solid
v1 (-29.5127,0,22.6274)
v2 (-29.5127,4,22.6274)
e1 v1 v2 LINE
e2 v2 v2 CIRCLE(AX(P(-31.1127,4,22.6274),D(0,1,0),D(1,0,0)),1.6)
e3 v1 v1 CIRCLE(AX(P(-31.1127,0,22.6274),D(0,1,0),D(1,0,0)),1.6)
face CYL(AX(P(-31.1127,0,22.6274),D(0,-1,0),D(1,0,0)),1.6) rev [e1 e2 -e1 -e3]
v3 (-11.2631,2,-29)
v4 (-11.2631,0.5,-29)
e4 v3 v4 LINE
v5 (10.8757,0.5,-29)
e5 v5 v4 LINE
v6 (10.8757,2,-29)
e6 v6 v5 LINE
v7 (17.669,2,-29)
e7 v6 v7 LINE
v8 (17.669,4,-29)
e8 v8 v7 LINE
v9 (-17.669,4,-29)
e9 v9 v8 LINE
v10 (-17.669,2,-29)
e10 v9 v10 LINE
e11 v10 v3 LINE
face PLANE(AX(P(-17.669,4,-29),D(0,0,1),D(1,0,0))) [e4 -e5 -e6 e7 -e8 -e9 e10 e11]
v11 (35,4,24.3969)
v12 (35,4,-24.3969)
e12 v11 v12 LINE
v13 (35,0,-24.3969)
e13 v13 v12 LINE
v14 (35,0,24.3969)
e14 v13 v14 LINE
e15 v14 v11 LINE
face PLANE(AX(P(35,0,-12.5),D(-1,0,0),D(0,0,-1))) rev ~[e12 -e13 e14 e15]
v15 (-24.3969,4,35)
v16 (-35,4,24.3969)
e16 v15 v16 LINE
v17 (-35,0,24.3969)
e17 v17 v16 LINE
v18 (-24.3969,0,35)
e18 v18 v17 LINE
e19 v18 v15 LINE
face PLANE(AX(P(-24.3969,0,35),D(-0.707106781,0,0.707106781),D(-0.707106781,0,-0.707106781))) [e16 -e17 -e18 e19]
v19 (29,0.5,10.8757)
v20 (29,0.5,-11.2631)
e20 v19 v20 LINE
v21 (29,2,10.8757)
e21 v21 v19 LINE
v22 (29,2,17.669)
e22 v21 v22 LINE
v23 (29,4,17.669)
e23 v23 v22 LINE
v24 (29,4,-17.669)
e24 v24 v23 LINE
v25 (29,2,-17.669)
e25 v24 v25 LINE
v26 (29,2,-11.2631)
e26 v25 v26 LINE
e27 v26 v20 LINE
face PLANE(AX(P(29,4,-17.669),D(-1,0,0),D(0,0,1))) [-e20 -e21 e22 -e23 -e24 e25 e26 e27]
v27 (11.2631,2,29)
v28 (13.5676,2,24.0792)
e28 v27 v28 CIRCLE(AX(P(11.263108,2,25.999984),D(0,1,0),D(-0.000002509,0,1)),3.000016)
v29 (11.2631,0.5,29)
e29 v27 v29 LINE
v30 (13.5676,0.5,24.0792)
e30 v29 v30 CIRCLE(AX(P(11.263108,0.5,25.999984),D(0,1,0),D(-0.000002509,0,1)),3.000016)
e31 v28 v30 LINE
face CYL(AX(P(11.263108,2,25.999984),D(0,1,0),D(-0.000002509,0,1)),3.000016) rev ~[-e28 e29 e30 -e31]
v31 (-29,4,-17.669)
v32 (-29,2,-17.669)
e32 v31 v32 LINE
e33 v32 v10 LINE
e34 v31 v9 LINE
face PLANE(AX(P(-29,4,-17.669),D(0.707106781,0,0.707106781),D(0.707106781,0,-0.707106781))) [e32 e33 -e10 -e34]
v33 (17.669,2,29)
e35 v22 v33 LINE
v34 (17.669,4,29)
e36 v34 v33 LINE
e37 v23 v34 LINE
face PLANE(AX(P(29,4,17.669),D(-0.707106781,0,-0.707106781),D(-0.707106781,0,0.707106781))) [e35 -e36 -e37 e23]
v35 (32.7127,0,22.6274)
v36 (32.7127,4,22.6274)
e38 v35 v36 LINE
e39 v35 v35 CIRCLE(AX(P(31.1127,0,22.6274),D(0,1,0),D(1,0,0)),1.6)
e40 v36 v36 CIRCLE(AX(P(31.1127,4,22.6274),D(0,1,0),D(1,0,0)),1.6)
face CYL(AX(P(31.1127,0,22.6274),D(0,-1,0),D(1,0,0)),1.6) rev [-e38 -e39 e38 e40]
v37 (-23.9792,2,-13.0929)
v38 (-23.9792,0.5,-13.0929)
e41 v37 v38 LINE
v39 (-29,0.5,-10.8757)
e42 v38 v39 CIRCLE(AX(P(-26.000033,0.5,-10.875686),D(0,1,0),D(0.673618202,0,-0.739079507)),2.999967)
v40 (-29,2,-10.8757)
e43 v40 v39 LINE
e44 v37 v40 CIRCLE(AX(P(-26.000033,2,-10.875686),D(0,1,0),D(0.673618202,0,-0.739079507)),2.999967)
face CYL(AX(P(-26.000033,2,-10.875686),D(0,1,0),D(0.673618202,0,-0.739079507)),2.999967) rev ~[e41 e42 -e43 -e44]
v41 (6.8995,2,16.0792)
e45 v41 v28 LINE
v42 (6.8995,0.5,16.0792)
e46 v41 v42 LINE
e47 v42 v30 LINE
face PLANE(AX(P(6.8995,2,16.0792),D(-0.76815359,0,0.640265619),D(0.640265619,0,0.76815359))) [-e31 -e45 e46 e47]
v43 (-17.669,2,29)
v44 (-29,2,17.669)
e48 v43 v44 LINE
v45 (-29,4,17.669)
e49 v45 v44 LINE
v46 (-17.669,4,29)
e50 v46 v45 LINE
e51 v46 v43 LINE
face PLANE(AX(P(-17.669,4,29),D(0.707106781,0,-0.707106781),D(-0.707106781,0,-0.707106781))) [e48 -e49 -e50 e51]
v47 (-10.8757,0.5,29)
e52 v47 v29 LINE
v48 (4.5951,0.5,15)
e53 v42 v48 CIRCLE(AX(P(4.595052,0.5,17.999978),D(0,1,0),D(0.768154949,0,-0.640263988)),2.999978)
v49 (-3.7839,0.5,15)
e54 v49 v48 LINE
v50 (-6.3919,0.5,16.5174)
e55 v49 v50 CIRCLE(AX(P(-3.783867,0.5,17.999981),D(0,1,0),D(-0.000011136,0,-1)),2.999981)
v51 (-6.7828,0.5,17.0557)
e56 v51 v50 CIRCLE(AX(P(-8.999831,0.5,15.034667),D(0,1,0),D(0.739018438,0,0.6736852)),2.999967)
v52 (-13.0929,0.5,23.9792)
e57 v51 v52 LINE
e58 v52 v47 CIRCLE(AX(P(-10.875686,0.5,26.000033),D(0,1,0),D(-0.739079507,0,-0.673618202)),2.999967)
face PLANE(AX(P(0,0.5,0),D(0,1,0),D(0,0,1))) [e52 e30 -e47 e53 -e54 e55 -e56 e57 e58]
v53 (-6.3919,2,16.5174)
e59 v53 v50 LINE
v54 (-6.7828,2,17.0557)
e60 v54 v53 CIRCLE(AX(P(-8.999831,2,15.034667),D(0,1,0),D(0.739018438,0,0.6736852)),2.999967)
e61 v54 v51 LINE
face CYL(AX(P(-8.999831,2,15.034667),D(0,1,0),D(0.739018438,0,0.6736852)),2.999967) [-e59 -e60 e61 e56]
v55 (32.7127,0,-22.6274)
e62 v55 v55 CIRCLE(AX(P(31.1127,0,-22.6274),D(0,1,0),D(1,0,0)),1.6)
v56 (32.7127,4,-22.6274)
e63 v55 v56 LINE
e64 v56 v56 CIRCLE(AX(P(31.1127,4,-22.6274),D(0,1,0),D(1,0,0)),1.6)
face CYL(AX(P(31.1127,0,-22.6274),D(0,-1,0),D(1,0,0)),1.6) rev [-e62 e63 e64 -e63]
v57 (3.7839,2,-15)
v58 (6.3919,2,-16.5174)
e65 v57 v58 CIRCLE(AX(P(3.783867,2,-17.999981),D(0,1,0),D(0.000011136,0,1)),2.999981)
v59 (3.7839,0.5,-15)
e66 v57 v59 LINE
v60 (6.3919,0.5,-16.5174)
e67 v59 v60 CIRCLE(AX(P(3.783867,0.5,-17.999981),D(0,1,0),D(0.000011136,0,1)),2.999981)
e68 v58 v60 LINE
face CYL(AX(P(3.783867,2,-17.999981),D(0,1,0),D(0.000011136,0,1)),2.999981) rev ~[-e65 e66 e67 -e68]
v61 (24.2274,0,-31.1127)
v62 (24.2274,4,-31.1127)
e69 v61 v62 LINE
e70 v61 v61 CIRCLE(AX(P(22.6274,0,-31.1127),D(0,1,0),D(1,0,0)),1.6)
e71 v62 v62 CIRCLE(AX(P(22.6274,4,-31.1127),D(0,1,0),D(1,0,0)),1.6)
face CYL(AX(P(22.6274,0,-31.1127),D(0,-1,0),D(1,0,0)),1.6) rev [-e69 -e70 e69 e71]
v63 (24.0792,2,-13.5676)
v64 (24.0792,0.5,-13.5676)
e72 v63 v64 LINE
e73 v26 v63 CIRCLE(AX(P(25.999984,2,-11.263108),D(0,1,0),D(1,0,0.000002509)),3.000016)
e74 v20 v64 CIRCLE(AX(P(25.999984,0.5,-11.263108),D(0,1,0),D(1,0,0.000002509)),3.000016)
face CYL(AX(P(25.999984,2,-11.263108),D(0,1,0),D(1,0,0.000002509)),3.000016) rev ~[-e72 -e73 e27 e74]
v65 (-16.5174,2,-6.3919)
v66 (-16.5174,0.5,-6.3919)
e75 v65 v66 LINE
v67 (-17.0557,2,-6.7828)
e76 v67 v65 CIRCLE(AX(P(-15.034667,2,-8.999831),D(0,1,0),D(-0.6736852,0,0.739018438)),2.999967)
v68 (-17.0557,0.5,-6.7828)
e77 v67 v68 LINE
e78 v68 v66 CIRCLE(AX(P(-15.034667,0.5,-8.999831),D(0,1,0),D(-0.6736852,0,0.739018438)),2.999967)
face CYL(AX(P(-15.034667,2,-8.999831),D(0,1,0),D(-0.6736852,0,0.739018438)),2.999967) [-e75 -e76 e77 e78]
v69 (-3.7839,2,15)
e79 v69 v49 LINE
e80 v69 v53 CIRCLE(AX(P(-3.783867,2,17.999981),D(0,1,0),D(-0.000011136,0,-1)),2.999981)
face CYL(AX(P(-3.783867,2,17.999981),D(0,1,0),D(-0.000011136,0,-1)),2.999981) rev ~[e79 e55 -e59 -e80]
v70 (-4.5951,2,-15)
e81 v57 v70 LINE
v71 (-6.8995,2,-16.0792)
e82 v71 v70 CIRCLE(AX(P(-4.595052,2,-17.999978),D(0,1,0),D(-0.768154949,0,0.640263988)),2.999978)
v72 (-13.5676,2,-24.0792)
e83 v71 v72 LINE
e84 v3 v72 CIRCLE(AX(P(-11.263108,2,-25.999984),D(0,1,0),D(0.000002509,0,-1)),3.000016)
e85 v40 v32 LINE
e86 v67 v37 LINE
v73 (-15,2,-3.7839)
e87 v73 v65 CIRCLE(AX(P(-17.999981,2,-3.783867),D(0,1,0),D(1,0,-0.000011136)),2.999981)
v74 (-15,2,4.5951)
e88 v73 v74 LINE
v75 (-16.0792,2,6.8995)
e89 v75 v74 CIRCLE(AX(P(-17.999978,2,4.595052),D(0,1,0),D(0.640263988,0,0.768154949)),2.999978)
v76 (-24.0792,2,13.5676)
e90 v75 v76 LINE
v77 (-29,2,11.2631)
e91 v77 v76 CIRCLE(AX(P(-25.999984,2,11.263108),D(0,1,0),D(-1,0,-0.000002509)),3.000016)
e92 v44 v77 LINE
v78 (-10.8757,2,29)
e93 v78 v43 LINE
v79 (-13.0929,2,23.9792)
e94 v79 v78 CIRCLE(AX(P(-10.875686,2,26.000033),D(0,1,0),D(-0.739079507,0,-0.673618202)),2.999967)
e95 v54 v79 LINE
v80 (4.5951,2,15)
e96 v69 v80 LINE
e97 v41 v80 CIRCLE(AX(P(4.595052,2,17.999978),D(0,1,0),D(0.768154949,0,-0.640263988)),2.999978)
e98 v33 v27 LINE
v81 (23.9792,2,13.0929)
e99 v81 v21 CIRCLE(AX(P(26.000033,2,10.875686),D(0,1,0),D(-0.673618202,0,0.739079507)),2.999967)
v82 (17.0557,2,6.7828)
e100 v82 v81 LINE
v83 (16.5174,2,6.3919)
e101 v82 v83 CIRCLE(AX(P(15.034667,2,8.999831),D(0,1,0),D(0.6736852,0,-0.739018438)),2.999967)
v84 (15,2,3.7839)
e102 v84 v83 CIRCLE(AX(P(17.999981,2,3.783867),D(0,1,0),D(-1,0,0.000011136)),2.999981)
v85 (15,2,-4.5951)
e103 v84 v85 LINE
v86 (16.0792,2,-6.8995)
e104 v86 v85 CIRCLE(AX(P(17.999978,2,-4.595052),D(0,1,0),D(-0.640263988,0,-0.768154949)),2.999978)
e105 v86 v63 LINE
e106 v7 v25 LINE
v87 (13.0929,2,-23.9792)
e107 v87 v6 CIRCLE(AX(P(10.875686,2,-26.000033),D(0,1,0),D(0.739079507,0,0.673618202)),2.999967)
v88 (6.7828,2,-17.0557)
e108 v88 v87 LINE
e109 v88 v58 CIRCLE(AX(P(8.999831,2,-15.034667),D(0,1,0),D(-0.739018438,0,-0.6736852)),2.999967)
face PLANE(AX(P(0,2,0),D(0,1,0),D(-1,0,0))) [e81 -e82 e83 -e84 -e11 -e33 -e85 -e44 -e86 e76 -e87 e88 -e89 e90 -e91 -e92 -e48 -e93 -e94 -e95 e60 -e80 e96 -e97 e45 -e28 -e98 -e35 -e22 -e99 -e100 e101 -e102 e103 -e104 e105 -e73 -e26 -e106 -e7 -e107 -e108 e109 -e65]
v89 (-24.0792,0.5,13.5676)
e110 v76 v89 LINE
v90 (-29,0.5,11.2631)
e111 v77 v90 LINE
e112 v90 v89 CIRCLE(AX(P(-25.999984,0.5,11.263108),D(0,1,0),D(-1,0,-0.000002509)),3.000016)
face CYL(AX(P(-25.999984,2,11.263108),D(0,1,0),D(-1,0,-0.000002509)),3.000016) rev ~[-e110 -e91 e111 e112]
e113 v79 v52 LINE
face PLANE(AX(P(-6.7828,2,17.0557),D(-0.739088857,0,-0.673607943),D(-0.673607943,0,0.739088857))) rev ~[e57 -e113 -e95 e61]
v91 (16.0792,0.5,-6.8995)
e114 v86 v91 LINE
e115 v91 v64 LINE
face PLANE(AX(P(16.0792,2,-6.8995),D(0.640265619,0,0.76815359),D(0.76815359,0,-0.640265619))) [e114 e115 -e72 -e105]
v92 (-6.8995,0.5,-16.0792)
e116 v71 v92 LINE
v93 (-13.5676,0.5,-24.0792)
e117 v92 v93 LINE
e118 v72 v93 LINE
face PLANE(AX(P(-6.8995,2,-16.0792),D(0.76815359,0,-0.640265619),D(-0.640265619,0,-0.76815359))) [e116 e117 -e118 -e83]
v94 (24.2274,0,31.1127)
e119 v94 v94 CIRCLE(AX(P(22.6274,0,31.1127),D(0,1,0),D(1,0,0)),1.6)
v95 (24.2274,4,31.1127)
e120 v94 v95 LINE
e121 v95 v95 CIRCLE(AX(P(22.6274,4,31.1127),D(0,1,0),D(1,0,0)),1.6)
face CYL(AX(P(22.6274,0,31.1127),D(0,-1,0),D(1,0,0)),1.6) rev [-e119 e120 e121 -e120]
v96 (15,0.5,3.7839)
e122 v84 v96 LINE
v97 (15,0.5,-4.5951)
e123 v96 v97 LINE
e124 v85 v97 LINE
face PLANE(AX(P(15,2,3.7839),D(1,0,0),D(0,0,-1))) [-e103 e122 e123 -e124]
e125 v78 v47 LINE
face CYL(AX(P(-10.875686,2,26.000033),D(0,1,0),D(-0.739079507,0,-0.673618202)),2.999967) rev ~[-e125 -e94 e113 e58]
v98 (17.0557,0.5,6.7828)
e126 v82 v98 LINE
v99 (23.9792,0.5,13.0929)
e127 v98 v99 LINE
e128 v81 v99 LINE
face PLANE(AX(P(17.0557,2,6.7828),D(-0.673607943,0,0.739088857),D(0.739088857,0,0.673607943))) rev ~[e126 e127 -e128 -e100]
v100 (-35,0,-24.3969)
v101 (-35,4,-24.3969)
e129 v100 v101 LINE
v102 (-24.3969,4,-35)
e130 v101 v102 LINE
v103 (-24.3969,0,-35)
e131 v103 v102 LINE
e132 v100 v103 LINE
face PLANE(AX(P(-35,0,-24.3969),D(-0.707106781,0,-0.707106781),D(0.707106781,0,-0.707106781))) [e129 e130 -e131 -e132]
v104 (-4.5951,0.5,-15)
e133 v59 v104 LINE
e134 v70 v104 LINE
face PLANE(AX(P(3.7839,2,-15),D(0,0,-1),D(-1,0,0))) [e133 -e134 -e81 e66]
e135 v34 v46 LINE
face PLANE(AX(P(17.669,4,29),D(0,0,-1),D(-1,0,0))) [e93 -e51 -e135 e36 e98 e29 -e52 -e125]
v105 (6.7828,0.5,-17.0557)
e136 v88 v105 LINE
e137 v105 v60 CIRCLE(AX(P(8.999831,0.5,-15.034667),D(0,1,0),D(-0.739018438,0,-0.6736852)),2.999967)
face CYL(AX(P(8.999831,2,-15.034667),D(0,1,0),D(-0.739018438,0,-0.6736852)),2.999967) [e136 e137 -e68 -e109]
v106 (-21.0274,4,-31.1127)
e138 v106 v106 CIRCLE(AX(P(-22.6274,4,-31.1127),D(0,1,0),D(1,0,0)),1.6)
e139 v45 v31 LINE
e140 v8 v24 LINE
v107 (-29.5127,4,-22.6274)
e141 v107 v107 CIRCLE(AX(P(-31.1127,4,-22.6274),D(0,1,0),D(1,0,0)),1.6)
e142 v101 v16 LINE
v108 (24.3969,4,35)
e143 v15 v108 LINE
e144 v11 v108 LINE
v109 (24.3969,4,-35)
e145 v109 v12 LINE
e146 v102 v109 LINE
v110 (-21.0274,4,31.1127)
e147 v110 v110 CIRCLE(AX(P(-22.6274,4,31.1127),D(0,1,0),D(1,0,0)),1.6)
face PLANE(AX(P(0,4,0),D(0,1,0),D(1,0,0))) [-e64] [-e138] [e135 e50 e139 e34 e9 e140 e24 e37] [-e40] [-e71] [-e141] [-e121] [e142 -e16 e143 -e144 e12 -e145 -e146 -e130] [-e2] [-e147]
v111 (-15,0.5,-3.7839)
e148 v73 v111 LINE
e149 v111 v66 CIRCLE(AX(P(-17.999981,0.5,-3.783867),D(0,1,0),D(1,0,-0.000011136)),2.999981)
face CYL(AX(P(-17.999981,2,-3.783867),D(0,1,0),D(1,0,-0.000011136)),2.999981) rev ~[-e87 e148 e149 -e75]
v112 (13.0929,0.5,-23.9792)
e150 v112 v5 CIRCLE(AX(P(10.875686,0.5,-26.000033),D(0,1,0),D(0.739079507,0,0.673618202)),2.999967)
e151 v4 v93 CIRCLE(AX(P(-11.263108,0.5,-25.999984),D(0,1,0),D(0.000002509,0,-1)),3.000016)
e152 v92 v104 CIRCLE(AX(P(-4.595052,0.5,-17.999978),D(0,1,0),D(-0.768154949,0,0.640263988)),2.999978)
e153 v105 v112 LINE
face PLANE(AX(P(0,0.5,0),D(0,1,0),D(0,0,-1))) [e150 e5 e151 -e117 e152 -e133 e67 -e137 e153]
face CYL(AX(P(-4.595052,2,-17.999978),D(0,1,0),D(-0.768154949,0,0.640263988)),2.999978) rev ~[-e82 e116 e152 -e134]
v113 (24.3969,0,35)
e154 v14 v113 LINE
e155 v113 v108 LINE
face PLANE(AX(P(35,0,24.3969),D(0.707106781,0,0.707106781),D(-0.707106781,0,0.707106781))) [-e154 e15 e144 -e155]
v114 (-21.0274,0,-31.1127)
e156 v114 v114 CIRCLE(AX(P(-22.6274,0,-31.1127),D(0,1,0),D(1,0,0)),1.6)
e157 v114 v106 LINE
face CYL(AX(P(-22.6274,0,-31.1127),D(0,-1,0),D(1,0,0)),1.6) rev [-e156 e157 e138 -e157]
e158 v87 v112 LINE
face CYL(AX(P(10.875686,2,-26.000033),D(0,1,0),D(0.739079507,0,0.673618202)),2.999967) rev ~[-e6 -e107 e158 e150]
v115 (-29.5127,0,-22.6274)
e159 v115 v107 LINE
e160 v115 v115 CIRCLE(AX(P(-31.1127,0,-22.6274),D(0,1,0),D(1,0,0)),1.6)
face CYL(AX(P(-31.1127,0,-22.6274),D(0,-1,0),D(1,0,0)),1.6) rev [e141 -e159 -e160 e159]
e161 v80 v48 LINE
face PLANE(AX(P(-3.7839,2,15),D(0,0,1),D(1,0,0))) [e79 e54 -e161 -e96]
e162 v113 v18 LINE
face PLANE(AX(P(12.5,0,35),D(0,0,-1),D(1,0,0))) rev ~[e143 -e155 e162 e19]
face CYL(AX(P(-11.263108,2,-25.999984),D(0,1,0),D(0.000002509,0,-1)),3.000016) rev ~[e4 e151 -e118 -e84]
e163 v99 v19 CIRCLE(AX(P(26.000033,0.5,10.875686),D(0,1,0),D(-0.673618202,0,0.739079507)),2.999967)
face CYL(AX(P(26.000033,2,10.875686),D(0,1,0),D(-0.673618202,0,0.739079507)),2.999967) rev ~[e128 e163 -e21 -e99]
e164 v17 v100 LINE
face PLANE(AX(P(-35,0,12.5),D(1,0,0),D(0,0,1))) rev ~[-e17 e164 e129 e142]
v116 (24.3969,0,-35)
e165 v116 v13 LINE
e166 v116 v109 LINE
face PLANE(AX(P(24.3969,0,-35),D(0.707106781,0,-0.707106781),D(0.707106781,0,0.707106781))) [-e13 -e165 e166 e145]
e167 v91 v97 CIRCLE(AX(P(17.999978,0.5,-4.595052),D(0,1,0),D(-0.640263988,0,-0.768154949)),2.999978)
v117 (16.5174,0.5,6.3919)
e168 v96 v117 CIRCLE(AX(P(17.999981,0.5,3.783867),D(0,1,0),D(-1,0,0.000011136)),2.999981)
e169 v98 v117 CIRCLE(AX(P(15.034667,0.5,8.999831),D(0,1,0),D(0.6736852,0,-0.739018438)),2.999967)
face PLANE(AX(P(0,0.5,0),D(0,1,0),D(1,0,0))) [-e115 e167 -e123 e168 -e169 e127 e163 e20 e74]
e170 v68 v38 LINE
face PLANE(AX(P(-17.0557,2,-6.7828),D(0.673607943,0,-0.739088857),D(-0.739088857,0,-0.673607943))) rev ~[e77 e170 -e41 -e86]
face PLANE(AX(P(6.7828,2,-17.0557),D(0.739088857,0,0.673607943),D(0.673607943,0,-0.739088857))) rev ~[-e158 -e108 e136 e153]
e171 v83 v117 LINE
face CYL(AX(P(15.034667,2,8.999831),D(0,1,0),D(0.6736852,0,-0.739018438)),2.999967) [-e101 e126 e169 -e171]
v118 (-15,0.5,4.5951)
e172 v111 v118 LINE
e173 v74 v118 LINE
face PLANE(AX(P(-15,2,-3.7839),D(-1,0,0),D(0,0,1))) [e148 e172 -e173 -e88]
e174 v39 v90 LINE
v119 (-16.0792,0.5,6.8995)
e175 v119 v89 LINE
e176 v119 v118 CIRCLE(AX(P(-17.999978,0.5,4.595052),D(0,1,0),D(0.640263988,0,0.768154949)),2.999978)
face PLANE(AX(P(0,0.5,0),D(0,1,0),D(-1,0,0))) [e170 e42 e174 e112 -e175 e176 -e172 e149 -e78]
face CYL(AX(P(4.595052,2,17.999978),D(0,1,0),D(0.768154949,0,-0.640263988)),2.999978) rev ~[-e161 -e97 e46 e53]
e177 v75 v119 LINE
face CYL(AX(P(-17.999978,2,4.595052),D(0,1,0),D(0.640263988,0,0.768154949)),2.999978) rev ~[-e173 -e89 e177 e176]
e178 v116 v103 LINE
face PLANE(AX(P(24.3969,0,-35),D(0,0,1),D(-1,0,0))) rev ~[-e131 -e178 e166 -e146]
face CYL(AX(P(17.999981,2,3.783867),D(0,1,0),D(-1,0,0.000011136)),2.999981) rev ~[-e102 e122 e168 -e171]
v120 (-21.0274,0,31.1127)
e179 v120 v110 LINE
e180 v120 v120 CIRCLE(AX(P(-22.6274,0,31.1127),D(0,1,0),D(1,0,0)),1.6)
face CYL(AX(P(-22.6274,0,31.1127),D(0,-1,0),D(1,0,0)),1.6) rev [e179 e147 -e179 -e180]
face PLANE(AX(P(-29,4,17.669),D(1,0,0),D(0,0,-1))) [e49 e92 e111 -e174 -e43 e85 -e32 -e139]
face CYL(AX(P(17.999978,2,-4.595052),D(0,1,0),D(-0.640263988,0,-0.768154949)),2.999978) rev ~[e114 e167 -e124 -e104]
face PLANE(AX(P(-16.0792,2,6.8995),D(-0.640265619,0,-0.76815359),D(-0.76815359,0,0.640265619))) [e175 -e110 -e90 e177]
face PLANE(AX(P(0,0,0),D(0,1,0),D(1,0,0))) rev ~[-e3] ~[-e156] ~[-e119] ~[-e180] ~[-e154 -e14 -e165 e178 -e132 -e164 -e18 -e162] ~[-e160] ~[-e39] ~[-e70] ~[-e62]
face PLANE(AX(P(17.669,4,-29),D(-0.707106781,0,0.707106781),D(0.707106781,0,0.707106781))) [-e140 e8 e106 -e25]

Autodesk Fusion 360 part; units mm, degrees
sketch "Sketch1" plane through (0, 0, 0) normal (0, 1, 0) x (1, 0, 0)
  line L0 (35, 35) -> (-35, 35)
  line L1 (-35, 35) -> (-35, -35)
  line L2 (-35, -35) -> (35, -35)
  line L3 (35, -35) -> (35, 35)
  line L4 (35, 35) -> (-35, -35) construction
  line L5 (-35, 35) -> (35, -35) construction
  line L6 (0, 0) -> (9.2688, 9.2688) construction
  line L7 (0, 0) -> (84.8528, 84.8528) construction
  line L8 (0, 0) -> (0, 35) construction
  line L9 (12.5, 35) -> (-12.5, 35)
  line L10 (-35, 12.5) -> (-35, -12.5)
  line L11 (-12.5, -35) -> (12.5, -35)
  line L12 (35, -12.5) -> (35, 12.5)
  line L13 (20.5061, 33.234) -> (33.234, 20.5061) construction
  line L14 (23.3345, 36.0624) -> (36.0624, 23.3345)
  line L15 (12.5, 35) -> (23.3345, 36.0624)
  line L16 (35, 12.5) -> (36.0624, 23.3345)
  circle A0 centre (22.6274, 31.1127) radius 1.6
  circle A1 centre (31.1127, 22.6274) radius 1.6
  line L17 (-35, 12.5) -> (-36.0624, 23.3345)
  line L18 (-36.0624, 23.3345) -> (-23.3345, 36.0624)
  line L19 (-12.5, 35) -> (-23.3345, 36.0624)
  circle A2 centre (-22.6274, 31.1127) radius 1.6
  circle A3 centre (-31.1127, 22.6274) radius 1.6
  line L20 (-12.5, -35) -> (-23.3345, -36.0624)
  line L21 (-23.3345, -36.0624) -> (-36.0624, -23.3345)
  line L22 (-35, -12.5) -> (-36.0624, -23.3345)
  circle A4 centre (-31.1127, -22.6274) radius 1.6
  circle A5 centre (-22.6274, -31.1127) radius 1.6
  line L23 (35, -12.5) -> (36.0624, -23.3345)
  line L24 (36.0624, -23.3345) -> (23.3345, -36.0624)
  line L25 (12.5, -35) -> (23.3345, -36.0624)
  circle A6 centre (22.6274, -31.1127) radius 1.6
  circle A7 centre (31.1127, -22.6274) radius 1.6
  dimension "d3" = 70
  dimension "d4" = 70
  dimension "d5" = 120
  dimension "d6" = 25
  dimension "d7" = 12.5
  dimension "d9" = 360
  dimension "d12" = 82
  dimension "d13" = 9
  dimension "d15" = 4
  dimension "d16" = 3.2
  dimension "d17" = 6
  dimension "d18" = 6
  dimension "d20" = 360
extrude "Extrude1" add sketch "Sketch1" along normal blind 4 contours L0 L1 L2 L3 L9 L10 L11 L12 L14 L18 L21 L24
sketch "Sketch2" plane through (0, 4, 0) normal (0, 1, 0) x (-1, 0, 0)
  circle A0 centre (-22.6274, 31.1127) radius 1.6
  circle A1 centre (-31.1127, 22.6274) radius 1.6
  circle A2 centre (31.1127, -22.6274) radius 1.6
  circle A3 centre (31.1127, 22.6274) radius 1.6
  circle A4 centre (22.6274, 31.1127) radius 1.6
  circle A5 centre (22.6274, -31.1127) radius 1.6
  circle A6 centre (-31.1127, -22.6274) radius 1.6
  circle A7 centre (-22.6274, -31.1127) radius 1.6
  line L0 (24.397, 35) -> (-24.397, 35)
  line L1 (-24.397, 35) -> (-35, 24.397)
  line L2 (-35, 24.397) -> (-35, -24.397)
  line L3 (-35, -24.397) -> (-24.397, -35)
  line L4 (-24.397, -35) -> (24.397, -35)
  line L5 (24.397, -35) -> (35, -24.397)
  line L6 (35, -24.397) -> (35, 24.397)
  line L7 (35, 24.397) -> (24.397, 35)
  line L8 (0, 0) -> (0, -35) construction
  line L9 (0, 0) -> (35, 0) construction
  line L10 (17.669, -29) -> (-17.669, -29)
  line L11 (-17.669, -29) -> (-29, -17.669)
  line L12 (-29, -17.669) -> (-29, 17.669)
  line L13 (-29, 17.669) -> (-17.669, 29)
  line L14 (-17.669, 29) -> (17.669, 29)
  line L15 (17.669, 29) -> (29, 17.669)
  line L16 (29, 17.669) -> (29, -17.669)
  line L17 (29, -17.669) -> (17.669, -29)
  dimension "d23" = 6
  dimension "d24" = 6
  dimension "d25" = 9
  dimension "d26" = 9
extrude "Extrude2" cut sketch "Sketch2" against normal blind 2 contours L10 L11 L12 L13 L14 L15 L16 L17
sketch "Sketch3" plane through (0, 2, 0) normal (0, 1, 0) x (-1, 0, 0)
  line L0 (29, -17.669) -> (29, 17.669)
  line L1 (29, 17.669) -> (17.669, 29)
  line L2 (17.669, 29) -> (-17.669, 29)
  line L3 (-17.669, 29) -> (-29, 17.669)
  line L4 (-29, 17.669) -> (-29, -17.669)
  line L5 (-29, -17.669) -> (-17.669, -29)
  line L6 (-17.669, -29) -> (17.669, -29)
  line L7 (17.669, -29) -> (29, -17.669)
  line L8 (0, 0) -> (0, -29) construction
  line L9 (0, 0) -> (29, 0) construction
  line L10 (15, -3.7839) -> (15, 4.5951)
  line L11 (16.0792, 6.8995) -> (24.0792, 13.5676)
  line L12 (15, -6) -> (15.0349, -6)
  line L13 (17.0557, -6.7828) -> (23.9792, -13.0929)
  line L14 (29, -10.8757) -> (29, 11.2631)
  arc A0 (23.9792, -13.0929) -> (29, -10.8757) centre (26, -10.8757) ccw
  arc A1 (29, 11.2631) -> (24.0792, 13.5676) centre (26, 11.2631) ccw
  arc A2 (16.0792, 6.8995) -> (15, 4.5951) centre (18, 4.5951) ccw
  arc A3 (17.0557, -6.7828) -> (16.5174, -6.3919) centre (15.0349, -9) ccw
  arc A4 (15, -3.7839) -> (16.5174, -6.3919) centre (18, -3.7839) ccw
  arc A5 (13.0929, 23.9792) -> (10.8757, 29) centre (10.8757, 26) ccw
  line L15 (10.8757, 29) -> (-11.2631, 29)
  line L16 (6.7828, 17.0557) -> (13.0929, 23.9792)
  arc A6 (-11.2631, 29) -> (-13.5676, 24.0792) centre (-11.2631, 26) ccw
  line L17 (-6.8995, 16.0792) -> (-13.5676, 24.0792)
  arc A7 (-6.8995, 16.0792) -> (-4.5951, 15) centre (-4.5951, 18) ccw
  line L18 (3.7839, 15) -> (-4.5951, 15)
  arc A8 (3.7839, 15) -> (6.3919, 16.5174) centre (3.7839, 18) ccw
  arc A9 (-23.9792, 13.0929) -> (-29, 10.8757) centre (-26, 10.8757) ccw
  line L19 (-29, 10.8757) -> (-29, -11.2631)
  line L20 (-17.0557, 6.7828) -> (-23.9792, 13.0929)
  arc A10 (-29, -11.2631) -> (-24.0792, -13.5676) centre (-26, -11.2631) ccw
  line L21 (-16.0792, -6.8995) -> (-24.0792, -13.5676)
  arc A11 (-16.0792, -6.8995) -> (-15, -4.5951) centre (-18, -4.5951) ccw
  line L22 (-15, 3.7839) -> (-15, -4.5951)
  arc A12 (-15, 3.7839) -> (-16.5174, 6.3919) centre (-18, 3.7839) ccw
  arc A13 (-13.0929, -23.9792) -> (-10.8757, -29) centre (-10.8757, -26) ccw
  line L23 (-10.8757, -29) -> (11.2631, -29)
  line L24 (-6.7828, -17.0557) -> (-13.0929, -23.9792)
  arc A14 (11.2631, -29) -> (13.5676, -24.0792) centre (11.2631, -26) ccw
  line L25 (6.8995, -16.0792) -> (13.5676, -24.0792)
  arc A15 (6.8995, -16.0792) -> (4.5951, -15) centre (4.5951, -18) ccw
  line L26 (-3.7839, -15) -> (4.5951, -15)
  arc A16 (-3.7839, -15) -> (-6.3919, -16.5174) centre (-3.7839, -18) ccw
  line L27 (10.8757, 29) -> (-11.2631, 29)
  point P0 (15, 6)
  dimension "d29" = 15
  dimension "d30" = 12
  dimension "d31" = 6
  dimension "d32" = 3
  dimension "d34" = 360
extrude "Extrude3" cut sketch "Sketch3" against normal blind 1.5 contours L0 L10 L11 L13 L14 A0 A1 A2 A3 A4
pattern_circular "C-Pattern1" count 4 over 360 about axis through (0, 1.75, 0) along (0, 1, 0) of "Extrude3"
sketch "Sketch4" plane through (0, 2, 0) normal (0, 1, 0) x (-1, 0, 0)
  arc A0 (-13.0929, -23.9792) -> (-10.8757, -29) centre (-10.8757, -26) ccw
  line L0 (-13.0929, -23.9792) -> (-6.7828, -17.0557)
  arc A1 (-6.7828, -17.0557) -> (-6.3919, -16.5174) centre (-9, -15.0349) ccw
  arc A2 (-3.7839, -15) -> (-6.3919, -16.5174) centre (-3.7839, -18) ccw
  line L1 (-3.7839, -15) -> (4.5951, -15)
  arc A3 (6.8995, -16.0792) -> (4.5951, -15) centre (4.5951, -18) ccw
  line L2 (6.8995, -16.0792) -> (13.5676, -24.0792)
  arc A4 (11.2631, -29) -> (13.5676, -24.0792) centre (11.2631, -26) ccw
  line L3 (11.2631, -29) -> (17.669, -29)
  line L4 (17.669, -29) -> (29, -17.669)
  line L5 (29, -17.669) -> (29, -10.8757)
  arc A5 (23.9792, -13.0929) -> (29, -10.8757) centre (26, -10.8757) ccw
  line L6 (23.9792, -13.0929) -> (17.0557, -6.7828)
  arc A6 (17.0557, -6.7828) -> (16.5174, -6.3919) centre (15.0349, -9) ccw
  arc A7 (15, -3.7839) -> (16.5174, -6.3919) centre (18, -3.7839) ccw
  line L7 (15, -3.7839) -> (15, 4.5951)
  arc A8 (16.0792, 6.8995) -> (15, 4.5951) centre (18, 4.5951) ccw
  line L8 (16.0792, 6.8995) -> (24.0792, 13.5676)
  arc A9 (29, 11.2631) -> (24.0792, 13.5676) centre (26, 11.2631) ccw
  line L9 (29, 11.2631) -> (29, 17.669)
  line L10 (29, 17.669) -> (17.669, 29)
  line L11 (17.669, 29) -> (10.8757, 29)
  arc A10 (13.0929, 23.9792) -> (10.8757, 29) centre (10.8757, 26) ccw
  line L12 (13.0929, 23.9792) -> (6.7828, 17.0557)
  arc A11 (6.7828, 17.0557) -> (6.3919, 16.5174) centre (9, 15.0349) ccw
  arc A12 (3.7839, 15) -> (6.3919, 16.5174) centre (3.7839, 18) ccw
  line L13 (3.7839, 15) -> (-4.5951, 15)
  arc A13 (-6.8995, 16.0792) -> (-4.5951, 15) centre (-4.5951, 18) ccw
  line L14 (-6.8995, 16.0792) -> (-13.5676, 24.0792)
  arc A14 (-11.2631, 29) -> (-13.5676, 24.0792) centre (-11.2631, 26) ccw
  line L15 (-11.2631, 29) -> (-17.669, 29)
  line L16 (-17.669, 29) -> (-29, 17.669)
  line L17 (-29, 17.669) -> (-29, 10.8757)
  arc A15 (-23.9792, 13.0929) -> (-29, 10.8757) centre (-26, 10.8757) ccw
  line L18 (-23.9792, 13.0929) -> (-17.0557, 6.7828)
  arc A16 (-17.0557, 6.7828) -> (-16.5174, 6.3919) centre (-15.0349, 9) ccw
  arc A17 (-15, 3.7839) -> (-16.5174, 6.3919) centre (-18, 3.7839) ccw
  line L19 (-15, 3.7839) -> (-15, -4.5951)
  arc A18 (-16.0792, -6.8995) -> (-15, -4.5951) centre (-18, -4.5951) ccw
  line L20 (-16.0792, -6.8995) -> (-24.0792, -13.5676)
  arc A19 (-29, -11.2631) -> (-24.0792, -13.5676) centre (-26, -11.2631) ccw
  line L21 (-29, -11.2631) -> (-29, -17.669)
  line L22 (-29, -17.669) -> (-17.669, -29)
  line L23 (-17.669, -29) -> (-10.8757, -29)
